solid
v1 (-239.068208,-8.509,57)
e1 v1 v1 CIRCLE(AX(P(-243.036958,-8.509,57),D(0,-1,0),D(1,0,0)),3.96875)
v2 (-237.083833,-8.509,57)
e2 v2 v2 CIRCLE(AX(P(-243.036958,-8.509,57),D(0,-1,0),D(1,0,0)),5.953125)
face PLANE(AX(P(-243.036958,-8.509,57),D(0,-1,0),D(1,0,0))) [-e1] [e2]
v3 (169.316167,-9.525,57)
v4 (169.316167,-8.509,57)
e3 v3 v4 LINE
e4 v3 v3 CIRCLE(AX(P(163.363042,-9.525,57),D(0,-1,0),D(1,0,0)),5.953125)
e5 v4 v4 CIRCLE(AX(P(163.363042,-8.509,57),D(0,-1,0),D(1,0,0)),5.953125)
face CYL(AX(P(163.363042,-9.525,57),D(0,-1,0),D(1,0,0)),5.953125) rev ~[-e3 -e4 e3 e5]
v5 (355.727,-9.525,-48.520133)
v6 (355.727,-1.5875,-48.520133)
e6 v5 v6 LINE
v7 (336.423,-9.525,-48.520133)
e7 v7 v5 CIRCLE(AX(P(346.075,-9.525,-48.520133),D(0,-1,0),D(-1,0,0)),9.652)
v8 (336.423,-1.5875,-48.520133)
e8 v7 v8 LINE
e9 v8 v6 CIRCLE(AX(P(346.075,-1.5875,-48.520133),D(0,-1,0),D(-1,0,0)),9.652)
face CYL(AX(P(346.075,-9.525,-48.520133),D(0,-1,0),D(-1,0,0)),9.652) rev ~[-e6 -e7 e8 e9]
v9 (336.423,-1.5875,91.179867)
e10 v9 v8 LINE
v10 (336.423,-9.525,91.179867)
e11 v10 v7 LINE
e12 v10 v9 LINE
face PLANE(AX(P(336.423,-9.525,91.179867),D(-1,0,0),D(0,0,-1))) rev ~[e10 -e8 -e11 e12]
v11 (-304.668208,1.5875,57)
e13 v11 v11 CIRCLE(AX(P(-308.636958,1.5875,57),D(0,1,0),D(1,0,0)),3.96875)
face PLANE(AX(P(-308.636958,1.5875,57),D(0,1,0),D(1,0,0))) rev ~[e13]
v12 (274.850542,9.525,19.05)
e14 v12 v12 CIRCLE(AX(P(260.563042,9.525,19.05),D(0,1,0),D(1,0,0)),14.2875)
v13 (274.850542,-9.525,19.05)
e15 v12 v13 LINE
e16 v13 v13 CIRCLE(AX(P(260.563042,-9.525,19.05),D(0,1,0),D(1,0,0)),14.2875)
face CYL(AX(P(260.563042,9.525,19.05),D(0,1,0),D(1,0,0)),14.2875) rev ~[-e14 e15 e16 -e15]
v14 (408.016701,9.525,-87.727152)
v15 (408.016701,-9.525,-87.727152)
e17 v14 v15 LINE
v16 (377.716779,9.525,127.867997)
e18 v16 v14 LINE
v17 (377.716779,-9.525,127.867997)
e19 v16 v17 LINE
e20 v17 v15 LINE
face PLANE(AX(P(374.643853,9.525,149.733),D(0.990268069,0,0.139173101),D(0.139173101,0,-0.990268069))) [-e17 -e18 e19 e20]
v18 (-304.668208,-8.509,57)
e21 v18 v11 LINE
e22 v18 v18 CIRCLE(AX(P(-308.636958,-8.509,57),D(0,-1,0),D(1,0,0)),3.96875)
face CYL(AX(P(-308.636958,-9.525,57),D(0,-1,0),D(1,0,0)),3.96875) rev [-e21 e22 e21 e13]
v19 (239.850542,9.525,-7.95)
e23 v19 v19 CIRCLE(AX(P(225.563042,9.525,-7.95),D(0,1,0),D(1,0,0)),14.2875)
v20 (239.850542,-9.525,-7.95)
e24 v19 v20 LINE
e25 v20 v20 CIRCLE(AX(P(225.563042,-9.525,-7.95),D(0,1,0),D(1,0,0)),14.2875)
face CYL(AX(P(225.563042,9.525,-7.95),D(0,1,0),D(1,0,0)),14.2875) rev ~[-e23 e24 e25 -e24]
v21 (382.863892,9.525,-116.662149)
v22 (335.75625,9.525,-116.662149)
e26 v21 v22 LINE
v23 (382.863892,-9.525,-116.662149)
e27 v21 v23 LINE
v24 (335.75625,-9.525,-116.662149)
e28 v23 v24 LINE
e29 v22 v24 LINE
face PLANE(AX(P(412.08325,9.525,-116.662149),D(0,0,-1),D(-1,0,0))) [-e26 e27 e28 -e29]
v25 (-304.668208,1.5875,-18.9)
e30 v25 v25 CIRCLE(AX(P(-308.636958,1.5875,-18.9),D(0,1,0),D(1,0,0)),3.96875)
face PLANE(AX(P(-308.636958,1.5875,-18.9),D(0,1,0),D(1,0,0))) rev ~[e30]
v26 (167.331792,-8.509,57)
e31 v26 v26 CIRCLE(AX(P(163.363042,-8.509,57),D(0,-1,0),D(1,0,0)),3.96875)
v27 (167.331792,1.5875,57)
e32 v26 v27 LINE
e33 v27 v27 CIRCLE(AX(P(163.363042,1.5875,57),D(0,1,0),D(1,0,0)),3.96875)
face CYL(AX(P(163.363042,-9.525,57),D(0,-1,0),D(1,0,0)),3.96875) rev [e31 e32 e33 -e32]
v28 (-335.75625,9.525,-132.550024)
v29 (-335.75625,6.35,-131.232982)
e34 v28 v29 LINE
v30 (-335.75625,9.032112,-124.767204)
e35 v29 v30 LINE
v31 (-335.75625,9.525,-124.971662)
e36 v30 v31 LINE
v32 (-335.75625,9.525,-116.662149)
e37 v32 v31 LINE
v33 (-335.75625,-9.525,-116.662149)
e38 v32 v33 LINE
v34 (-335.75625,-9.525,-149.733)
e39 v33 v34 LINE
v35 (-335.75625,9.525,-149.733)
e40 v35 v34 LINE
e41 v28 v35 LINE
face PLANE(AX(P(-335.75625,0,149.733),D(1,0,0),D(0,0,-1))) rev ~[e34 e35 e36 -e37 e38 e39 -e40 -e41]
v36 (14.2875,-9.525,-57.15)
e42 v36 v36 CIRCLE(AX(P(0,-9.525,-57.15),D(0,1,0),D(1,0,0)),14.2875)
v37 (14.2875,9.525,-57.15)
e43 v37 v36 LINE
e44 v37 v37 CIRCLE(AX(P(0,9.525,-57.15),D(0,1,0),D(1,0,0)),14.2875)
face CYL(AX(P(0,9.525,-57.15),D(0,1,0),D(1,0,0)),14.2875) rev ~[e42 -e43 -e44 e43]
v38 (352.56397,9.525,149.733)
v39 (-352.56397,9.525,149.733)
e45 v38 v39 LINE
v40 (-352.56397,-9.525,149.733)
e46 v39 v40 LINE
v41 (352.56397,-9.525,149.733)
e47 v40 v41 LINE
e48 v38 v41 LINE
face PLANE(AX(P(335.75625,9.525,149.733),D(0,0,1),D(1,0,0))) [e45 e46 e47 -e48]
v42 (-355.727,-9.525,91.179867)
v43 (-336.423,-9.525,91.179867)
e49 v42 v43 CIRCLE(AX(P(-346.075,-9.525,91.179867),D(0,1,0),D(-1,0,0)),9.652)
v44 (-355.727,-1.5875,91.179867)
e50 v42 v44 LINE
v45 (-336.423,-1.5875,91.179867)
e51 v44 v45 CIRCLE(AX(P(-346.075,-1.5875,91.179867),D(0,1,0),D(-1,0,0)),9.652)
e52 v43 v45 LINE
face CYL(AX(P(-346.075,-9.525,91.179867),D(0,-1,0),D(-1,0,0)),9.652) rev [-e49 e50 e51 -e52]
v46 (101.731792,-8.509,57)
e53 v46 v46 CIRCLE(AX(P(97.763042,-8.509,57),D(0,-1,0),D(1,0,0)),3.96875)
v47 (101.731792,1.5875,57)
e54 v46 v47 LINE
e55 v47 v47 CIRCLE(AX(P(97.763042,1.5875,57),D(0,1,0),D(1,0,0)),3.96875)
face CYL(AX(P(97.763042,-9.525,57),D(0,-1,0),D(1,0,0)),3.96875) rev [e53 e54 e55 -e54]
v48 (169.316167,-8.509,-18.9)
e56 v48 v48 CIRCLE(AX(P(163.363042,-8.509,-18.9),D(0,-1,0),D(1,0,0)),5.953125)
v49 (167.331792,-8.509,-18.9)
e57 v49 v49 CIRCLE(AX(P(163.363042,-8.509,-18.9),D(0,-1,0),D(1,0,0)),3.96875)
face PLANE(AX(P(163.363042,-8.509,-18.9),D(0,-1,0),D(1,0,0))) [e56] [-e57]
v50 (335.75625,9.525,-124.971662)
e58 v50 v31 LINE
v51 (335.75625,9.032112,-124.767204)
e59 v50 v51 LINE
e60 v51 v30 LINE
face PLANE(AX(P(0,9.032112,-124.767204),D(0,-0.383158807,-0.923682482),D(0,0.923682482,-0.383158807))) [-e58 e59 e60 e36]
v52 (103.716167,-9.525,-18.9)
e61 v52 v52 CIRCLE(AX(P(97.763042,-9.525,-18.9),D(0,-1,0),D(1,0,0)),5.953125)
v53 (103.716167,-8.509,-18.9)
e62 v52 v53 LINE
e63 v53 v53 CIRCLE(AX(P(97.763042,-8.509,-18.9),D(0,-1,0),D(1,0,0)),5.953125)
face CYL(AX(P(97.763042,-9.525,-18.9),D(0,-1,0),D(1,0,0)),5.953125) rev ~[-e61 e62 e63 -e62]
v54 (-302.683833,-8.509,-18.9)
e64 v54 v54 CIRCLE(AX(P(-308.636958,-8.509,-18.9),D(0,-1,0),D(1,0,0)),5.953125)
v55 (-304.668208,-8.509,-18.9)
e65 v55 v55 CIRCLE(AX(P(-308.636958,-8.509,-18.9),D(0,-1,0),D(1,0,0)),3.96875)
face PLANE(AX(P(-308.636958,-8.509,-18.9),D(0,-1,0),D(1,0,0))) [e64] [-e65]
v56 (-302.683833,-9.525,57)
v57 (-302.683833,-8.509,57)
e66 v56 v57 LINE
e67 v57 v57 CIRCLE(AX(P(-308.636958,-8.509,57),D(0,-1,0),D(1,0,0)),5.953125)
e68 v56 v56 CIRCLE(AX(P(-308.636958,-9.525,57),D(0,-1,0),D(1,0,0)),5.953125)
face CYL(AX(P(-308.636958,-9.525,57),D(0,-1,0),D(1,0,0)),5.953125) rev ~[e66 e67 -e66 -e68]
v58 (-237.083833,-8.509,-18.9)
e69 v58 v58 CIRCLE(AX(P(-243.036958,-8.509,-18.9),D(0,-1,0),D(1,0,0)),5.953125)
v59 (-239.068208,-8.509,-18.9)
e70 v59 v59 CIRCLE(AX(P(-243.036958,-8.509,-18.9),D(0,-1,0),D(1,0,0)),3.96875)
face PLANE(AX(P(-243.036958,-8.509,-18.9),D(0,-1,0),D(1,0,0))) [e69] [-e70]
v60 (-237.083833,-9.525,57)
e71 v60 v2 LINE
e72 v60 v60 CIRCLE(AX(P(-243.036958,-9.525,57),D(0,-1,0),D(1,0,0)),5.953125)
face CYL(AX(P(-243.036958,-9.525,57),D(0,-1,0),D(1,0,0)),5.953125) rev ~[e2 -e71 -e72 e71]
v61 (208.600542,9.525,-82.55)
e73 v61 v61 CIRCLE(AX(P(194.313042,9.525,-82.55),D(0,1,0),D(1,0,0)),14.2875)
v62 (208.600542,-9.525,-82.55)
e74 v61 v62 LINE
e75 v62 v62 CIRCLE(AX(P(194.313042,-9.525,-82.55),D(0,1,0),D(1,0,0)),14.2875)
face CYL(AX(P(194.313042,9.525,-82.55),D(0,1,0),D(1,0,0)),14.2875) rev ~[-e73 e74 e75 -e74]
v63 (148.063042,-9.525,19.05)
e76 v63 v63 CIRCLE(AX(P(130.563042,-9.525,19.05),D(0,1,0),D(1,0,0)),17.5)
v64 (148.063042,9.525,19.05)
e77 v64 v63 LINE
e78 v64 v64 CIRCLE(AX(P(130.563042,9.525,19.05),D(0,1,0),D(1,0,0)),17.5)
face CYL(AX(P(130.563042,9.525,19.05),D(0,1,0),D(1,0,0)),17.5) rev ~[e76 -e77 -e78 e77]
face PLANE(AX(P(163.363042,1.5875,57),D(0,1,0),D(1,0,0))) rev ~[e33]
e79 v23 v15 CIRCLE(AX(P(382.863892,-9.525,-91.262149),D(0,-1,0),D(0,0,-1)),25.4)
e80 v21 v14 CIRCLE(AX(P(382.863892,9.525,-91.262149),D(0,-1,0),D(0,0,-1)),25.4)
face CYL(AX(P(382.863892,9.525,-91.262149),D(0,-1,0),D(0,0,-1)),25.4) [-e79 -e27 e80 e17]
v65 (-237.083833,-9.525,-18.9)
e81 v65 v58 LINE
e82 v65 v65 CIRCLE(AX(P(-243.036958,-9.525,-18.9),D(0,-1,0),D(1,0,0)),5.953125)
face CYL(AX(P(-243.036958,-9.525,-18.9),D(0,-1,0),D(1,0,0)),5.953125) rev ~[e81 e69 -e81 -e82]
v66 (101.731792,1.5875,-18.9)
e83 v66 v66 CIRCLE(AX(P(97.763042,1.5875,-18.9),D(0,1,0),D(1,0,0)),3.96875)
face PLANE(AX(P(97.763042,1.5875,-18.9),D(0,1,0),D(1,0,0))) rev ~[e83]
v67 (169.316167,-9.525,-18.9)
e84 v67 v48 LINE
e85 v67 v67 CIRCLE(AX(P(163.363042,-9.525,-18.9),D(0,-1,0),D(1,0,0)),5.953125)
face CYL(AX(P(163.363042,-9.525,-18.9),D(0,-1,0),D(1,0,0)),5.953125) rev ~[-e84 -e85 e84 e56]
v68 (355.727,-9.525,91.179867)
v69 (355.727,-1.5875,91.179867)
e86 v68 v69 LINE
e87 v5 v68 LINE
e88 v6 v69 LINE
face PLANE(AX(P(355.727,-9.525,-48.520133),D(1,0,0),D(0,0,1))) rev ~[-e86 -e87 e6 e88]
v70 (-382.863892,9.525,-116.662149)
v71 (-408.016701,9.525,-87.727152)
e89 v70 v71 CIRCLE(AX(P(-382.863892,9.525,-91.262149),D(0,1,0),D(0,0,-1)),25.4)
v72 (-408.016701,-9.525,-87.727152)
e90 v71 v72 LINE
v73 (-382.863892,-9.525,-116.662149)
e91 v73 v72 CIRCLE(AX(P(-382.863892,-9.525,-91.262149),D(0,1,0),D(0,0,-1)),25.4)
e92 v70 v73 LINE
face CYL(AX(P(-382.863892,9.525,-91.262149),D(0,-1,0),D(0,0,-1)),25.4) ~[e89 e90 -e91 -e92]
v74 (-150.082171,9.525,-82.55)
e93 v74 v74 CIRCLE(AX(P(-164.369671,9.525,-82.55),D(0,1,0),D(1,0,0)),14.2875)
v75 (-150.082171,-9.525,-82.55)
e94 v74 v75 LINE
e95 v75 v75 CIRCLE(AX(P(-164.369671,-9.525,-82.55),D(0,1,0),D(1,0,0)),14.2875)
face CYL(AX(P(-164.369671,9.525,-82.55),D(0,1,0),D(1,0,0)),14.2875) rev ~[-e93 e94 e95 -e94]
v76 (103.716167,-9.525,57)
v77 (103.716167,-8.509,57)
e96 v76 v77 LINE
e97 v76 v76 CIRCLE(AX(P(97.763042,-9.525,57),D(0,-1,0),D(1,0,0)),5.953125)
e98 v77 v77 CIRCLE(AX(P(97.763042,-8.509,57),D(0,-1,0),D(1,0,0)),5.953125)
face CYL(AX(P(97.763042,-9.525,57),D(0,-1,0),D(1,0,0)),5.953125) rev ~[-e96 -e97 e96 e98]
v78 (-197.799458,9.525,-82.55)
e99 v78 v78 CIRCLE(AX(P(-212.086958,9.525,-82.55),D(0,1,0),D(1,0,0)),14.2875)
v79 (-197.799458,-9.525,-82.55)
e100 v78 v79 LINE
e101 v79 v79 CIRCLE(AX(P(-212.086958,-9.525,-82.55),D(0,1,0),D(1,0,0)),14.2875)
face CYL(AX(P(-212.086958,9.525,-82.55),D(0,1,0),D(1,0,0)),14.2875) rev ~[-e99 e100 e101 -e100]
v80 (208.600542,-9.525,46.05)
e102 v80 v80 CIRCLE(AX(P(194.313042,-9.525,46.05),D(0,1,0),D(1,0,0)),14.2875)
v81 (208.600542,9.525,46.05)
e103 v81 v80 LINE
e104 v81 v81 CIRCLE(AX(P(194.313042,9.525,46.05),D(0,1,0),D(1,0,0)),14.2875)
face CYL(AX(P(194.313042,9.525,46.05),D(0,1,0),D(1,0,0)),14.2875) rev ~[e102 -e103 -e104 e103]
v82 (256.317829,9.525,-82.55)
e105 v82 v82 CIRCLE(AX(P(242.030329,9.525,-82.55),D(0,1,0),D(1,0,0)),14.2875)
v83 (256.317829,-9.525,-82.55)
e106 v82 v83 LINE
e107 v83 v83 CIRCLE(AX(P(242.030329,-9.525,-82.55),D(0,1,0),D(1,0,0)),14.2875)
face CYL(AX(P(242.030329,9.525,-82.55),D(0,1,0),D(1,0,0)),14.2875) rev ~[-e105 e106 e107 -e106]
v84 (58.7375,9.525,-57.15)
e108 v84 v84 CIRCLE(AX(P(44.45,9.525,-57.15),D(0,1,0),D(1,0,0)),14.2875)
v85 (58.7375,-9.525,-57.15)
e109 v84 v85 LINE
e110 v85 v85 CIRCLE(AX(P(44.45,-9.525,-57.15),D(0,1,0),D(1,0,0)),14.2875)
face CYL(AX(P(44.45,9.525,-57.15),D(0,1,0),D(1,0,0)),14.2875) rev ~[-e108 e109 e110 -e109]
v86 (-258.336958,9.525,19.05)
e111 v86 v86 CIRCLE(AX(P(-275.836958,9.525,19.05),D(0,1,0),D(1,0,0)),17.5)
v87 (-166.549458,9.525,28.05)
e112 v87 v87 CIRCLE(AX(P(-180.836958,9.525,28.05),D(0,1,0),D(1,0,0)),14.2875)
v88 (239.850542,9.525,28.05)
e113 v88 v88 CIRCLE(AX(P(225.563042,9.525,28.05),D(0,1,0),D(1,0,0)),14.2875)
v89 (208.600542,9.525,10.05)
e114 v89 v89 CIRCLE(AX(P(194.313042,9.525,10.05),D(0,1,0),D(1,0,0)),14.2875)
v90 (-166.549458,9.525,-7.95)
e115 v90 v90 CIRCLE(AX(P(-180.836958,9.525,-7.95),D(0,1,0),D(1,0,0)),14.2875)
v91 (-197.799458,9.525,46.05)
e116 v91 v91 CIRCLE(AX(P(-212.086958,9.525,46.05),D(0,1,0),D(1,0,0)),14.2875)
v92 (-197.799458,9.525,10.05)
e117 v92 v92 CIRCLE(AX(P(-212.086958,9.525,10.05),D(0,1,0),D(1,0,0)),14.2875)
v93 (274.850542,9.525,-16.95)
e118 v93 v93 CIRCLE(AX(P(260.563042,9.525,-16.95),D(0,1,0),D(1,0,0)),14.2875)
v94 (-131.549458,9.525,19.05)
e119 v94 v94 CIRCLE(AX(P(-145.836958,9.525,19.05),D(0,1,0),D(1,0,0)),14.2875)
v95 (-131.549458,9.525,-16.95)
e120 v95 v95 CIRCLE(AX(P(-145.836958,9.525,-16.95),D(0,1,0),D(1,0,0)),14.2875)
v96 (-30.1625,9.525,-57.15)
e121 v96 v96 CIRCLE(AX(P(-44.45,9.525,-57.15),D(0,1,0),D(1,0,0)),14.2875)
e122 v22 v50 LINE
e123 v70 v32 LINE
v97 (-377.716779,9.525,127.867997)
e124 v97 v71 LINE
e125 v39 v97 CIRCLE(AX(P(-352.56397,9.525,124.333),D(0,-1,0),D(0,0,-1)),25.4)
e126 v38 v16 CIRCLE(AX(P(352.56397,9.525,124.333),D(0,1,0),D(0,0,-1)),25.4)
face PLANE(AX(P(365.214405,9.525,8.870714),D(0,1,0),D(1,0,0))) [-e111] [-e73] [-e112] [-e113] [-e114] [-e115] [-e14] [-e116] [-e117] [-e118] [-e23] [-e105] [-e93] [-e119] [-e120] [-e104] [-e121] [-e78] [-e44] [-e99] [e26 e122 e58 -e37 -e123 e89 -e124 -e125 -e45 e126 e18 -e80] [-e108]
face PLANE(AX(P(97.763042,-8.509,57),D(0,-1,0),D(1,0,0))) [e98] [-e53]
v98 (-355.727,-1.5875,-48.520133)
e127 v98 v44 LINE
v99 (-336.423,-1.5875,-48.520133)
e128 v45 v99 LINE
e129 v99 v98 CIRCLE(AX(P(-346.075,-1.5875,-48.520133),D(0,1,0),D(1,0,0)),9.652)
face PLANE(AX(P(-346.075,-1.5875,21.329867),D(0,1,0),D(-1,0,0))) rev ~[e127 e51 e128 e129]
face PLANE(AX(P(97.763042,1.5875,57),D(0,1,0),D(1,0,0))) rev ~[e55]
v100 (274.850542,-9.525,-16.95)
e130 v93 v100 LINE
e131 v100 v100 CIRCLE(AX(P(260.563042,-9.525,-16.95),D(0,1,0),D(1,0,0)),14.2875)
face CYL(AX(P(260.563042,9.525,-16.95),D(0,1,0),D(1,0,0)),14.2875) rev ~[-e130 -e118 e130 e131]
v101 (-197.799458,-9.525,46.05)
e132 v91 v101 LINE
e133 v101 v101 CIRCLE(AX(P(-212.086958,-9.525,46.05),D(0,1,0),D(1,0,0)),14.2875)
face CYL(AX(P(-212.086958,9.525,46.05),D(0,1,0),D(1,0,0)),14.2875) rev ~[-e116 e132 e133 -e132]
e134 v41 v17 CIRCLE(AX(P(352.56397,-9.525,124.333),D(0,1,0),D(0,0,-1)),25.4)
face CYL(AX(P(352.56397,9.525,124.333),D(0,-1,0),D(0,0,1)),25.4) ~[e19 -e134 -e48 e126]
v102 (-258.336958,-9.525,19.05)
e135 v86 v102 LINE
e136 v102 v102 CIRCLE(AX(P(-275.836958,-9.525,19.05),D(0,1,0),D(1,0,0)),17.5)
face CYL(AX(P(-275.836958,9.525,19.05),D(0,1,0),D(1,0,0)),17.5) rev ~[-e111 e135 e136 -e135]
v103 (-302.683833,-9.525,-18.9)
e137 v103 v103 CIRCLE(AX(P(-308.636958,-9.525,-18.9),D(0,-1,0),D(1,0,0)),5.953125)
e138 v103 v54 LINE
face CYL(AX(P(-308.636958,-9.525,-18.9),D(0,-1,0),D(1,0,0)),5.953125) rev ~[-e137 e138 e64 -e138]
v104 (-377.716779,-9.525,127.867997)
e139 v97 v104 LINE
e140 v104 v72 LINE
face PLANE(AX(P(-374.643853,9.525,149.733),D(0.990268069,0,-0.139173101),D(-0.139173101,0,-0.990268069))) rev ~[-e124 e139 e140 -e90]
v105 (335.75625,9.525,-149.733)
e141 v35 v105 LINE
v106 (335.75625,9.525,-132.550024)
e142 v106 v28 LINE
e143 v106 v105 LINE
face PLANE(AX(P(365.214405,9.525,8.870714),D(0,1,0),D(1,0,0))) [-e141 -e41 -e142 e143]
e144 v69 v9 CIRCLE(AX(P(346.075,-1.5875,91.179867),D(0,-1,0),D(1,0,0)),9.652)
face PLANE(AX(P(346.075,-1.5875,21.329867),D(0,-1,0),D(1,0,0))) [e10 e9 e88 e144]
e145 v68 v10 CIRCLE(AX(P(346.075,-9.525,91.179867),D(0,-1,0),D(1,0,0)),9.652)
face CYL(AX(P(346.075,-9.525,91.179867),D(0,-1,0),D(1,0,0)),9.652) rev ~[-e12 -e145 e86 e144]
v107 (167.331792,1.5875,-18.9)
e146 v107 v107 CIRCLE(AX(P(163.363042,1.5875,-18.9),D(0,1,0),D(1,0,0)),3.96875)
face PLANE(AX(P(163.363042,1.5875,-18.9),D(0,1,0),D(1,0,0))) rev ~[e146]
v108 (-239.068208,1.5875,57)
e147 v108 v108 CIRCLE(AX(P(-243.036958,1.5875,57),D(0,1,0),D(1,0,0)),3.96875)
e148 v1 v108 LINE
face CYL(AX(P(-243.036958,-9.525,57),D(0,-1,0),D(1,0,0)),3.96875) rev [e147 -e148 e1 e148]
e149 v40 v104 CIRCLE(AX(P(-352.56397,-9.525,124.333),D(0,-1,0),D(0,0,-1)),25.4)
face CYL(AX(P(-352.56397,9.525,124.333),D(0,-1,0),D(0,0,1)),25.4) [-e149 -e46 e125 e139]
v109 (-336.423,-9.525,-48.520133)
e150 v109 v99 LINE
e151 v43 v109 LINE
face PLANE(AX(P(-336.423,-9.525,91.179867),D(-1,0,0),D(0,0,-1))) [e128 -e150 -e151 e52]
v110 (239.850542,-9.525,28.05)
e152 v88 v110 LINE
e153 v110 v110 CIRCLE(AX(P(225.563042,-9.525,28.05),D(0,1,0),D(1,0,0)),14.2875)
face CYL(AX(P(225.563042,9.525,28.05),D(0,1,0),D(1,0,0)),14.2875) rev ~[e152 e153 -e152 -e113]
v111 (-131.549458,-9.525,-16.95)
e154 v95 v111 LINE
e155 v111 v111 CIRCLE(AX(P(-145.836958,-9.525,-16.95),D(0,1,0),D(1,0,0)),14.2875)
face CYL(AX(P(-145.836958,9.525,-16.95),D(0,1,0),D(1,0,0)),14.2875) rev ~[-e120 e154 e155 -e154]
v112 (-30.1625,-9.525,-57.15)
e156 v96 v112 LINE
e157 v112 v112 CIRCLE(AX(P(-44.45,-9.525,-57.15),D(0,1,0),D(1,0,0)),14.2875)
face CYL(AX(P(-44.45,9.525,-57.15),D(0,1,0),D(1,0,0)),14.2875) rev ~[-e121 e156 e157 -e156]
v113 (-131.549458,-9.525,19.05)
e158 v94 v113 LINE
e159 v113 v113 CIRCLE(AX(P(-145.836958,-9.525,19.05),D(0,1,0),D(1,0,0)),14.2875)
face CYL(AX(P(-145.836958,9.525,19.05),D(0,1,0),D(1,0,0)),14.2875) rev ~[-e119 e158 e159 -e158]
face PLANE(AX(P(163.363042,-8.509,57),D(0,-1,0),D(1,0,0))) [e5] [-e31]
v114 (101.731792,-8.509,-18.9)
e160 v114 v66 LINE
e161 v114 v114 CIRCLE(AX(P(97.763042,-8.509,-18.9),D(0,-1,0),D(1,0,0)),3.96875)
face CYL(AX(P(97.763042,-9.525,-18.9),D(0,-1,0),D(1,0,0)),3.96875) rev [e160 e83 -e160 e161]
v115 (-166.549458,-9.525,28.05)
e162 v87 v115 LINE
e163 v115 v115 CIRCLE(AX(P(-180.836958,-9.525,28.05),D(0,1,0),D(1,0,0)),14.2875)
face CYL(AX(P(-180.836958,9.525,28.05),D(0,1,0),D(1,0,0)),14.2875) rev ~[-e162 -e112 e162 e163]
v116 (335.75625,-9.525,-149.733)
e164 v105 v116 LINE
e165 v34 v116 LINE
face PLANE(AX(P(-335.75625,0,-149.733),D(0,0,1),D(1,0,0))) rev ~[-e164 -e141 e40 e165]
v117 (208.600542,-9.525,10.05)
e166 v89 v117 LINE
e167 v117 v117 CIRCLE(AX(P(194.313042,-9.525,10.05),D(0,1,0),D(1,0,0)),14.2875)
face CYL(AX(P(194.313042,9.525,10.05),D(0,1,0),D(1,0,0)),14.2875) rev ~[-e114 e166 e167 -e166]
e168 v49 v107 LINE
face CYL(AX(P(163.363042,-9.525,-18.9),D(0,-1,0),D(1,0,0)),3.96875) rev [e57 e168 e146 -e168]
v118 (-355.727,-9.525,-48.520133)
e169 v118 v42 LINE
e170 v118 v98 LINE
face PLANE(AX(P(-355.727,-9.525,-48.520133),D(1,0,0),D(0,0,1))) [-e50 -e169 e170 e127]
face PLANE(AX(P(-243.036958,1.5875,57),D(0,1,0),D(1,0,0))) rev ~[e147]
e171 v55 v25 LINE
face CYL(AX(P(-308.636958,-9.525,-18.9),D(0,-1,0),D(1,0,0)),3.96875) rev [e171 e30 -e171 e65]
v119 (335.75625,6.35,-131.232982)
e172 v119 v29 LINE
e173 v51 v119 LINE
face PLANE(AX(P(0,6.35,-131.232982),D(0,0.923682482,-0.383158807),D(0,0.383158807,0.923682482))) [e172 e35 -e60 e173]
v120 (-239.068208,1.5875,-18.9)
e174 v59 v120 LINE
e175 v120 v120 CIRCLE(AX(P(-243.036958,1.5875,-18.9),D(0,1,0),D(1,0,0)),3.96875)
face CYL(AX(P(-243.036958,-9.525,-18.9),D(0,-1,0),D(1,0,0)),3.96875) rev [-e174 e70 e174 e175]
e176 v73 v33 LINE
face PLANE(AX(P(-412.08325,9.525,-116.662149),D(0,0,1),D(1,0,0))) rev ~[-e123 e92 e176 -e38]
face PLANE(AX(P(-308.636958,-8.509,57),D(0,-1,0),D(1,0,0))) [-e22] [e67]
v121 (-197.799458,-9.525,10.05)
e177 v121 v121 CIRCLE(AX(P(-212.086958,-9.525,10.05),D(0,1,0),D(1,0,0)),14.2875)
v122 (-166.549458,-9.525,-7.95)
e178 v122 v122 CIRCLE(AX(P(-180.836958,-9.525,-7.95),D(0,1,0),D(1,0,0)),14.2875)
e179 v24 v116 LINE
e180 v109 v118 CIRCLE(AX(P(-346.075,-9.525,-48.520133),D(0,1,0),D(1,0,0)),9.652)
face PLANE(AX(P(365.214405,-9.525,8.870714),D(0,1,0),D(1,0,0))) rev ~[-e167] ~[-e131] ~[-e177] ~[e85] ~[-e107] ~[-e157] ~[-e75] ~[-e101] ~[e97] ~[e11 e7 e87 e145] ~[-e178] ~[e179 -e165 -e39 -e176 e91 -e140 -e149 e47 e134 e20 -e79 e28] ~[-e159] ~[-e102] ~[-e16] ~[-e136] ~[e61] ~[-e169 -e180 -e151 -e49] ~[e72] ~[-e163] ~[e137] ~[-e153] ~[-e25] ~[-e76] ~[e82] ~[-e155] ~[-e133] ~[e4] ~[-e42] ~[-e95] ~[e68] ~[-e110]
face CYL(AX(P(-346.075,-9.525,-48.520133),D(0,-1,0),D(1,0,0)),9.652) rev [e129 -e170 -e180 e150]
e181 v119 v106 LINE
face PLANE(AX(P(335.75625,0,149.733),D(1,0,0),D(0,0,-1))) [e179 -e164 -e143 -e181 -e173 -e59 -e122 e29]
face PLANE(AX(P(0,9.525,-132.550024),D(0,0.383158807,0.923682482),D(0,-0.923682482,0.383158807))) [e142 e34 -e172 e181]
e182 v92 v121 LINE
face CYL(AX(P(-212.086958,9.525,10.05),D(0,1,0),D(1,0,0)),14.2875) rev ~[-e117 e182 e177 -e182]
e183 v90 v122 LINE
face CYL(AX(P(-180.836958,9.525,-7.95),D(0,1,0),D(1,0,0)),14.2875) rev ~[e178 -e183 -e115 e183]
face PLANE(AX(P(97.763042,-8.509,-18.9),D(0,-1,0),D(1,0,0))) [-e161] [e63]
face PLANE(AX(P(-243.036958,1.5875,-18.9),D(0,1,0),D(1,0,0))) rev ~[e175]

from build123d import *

# Parameters (mm, degrees)
SKETCH1_W               = 671.5125
SKETCH1_H               = 299.466
BOSS_EXTRUDE1_DEPTH     = 9.525
BOSS_EXTRUDE2_DEPTH     = 19.05
FILLET1_R               = 25.4
SKETCH3_R               = 17.5
SKETCH3_R_2             = 14.2875
CUT_EXTRUDE1_DEPTH      = 1
CUT_EXTRUDE1_DEPTH_BACK = 20.05
CUT_EXTRUDE2_DEPTH      = 7.9375
CUT_EXTRUDE3_DEPTH      = 409.263892457
CUT_EXTRUDE3_DEPTH_BACK = 409.263892457
CUT_EXTRUDE5_START      = -19.05
SKETCH3_3_R             = 3.96875
CUT_EXTRUDE5_DEPTH      = 11.1125
SKETCH8_R               = 5.953125
CUT_EXTRUDE6_DEPTH      = 1.016


with BuildPart() as part:
    # Sketch1 → Boss-Extrude1 (new body, symmetric)
    with BuildSketch(Plane(origin=(0, 0, 0), x_dir=(1, 0, 0), z_dir=(0, 1, 0))):
        Rectangle(SKETCH1_W, SKETCH1_H)
    extrude(amount=BOSS_EXTRUDE1_DEPTH, both=True)

    # Sketch2 → Boss-Extrude2 (add)
    with BuildSketch(Plane(origin=(0, 9.525, 0), x_dir=(1, 0, 0), z_dir=(0, 1, 0))):
        Polygon((335.75625, -149.733), (374.643853371, -149.733), (412.08325, 116.6621492), (335.75625, 116.6621492), align=None)
        Polygon((-335.75625, 116.6621492), (-335.75625, -149.733), (-374.643853371, -149.733), (-412.08325, 116.6621492), align=None)
    extrude(amount=-BOSS_EXTRUDE2_DEPTH)

    # Fillet1
    fillet1_edges = [part.edges().sort_by_distance(p)[0] for p in [
        (374.643853371, 0, 149.733),
        (412.08325, 0, -116.6621492),
        (-412.08325, 0, -116.6621492),
        (-374.643853371, 0, 149.733),
    ]]
    fillet(fillet1_edges, radius=FILLET1_R)

    # Sketch3 → Cut-Extrude1 (cut, two sides)
    with BuildSketch(Plane(origin=(0, 9.525, 0), x_dir=(1, 0, 0), z_dir=(0, 1, 0))) as cut_extrude1_sk:
        with Locations((-275.836957508, -19.05)):
            Circle(SKETCH3_R)
        with Locations((-180.836957508, 7.95)):
            Circle(SKETCH3_R_2)
        with Locations((-145.836957508, 16.95)):
            Circle(SKETCH3_R_2)
        with Locations((-145.836957508, -19.05)):
            Circle(SKETCH3_R_2)
        with Locations((-180.836957508, -28.05)):
            Circle(SKETCH3_R_2)
        with Locations((-212.086957508, -10.05)):
            Circle(SKETCH3_R_2)
        with Locations((-212.086957508, -46.05)):
            Circle(SKETCH3_R_2)
        with Locations((-212.086957508, 82.55)):
            Circle(SKETCH3_R_2)
        with Locations((-164.36967051, 82.55)):
            Circle(SKETCH3_R_2)
        with Locations((130.563042492, -19.05)):
            Circle(SKETCH3_R)
        with Locations((225.563042492, 7.95)):
            Circle(SKETCH3_R_2)
        with Locations((260.563042492, 16.95)):
            Circle(SKETCH3_R_2)
        with Locations((260.563042492, -19.05)):
            Circle(SKETCH3_R_2)
        with Locations((225.563042492, -28.05)):
            Circle(SKETCH3_R_2)
        with Locations((194.313042492, -10.05)):
            Circle(SKETCH3_R_2)
        with Locations((194.313042492, -46.05)):
            Circle(SKETCH3_R_2)
        with Locations((194.313042492, 82.55)):
            Circle(SKETCH3_R_2)
        with Locations((242.03032949, 82.55)):
            Circle(SKETCH3_R_2)
        with Locations((-44.45, 57.15)):
            Circle(SKETCH3_R_2)
        with Locations((0, 57.15)):
            Circle(SKETCH3_R_2)
        with Locations((44.45, 57.15)):
            Circle(SKETCH3_R_2)
    extrude(amount=CUT_EXTRUDE1_DEPTH, mode=Mode.SUBTRACT)
    extrude(cut_extrude1_sk.sketch, amount=-CUT_EXTRUDE1_DEPTH_BACK, mode=Mode.SUBTRACT)

    # Sketch4 → Cut-Extrude2 (cut)
    with BuildSketch(Plane.XZ.offset(9.525)):
        with BuildLine():
            Line((-355.727, -48.520132908), (-355.727, 91.179867092))
            ThreePointArc((-355.727, 91.179867092), (-346.075, 100.831867092), (-336.423, 91.179867092))
            Line((-336.423, 91.179867092), (-336.423, -48.520132908))
            ThreePointArc((-336.423, -48.520132908), (-346.075, -58.172132908), (-355.727, -48.520132908))
        make_face()
        with BuildLine():
            Line((355.727, -48.520132908), (355.727, 91.179867092))
            ThreePointArc((355.727, 91.179867092), (346.075, 100.831867092), (336.423, 91.179867092))
            Line((336.423, 91.179867092), (336.423, -48.520132908))
            ThreePointArc((336.423, -48.520132908), (346.075, -58.172132908), (355.727, -48.520132908))
        make_face()
    extrude(amount=-CUT_EXTRUDE2_DEPTH, mode=Mode.SUBTRACT)

    # Sketch5 → Cut-Extrude3 (cut, two sides)
    with BuildSketch(Plane(origin=(0, 0, 0), x_dir=(0, 0, -1), z_dir=(1, 0, 0))) as cut_extrude3_sk:
        Polygon((132.550024206, 9.525), (131.232981568, 6.35), (124.767204191, 9.032111651), (126.084246829, 12.207111651), align=None)
    extrude(amount=CUT_EXTRUDE3_DEPTH, mode=Mode.SUBTRACT)
    extrude(cut_extrude3_sk.sketch, amount=-CUT_EXTRUDE3_DEPTH_BACK, mode=Mode.SUBTRACT)

    # Sketch3<3> → Cut-Extrude5 (cut)
    with BuildSketch(Plane(origin=(0, 9.525, 0), x_dir=(1, 0, 0), z_dir=(0, 1, 0)).offset(CUT_EXTRUDE5_START)):
        with Locations((-308.636957508, 18.9)):
            Circle(SKETCH3_3_R)
        with Locations((-243.036957508, 18.9)):
            Circle(SKETCH3_3_R)
        with Locations((-308.636957508, -57)):
            Circle(SKETCH3_3_R)
        with Locations((-243.036957508, -57)):
            Circle(SKETCH3_3_R)
        with Locations((97.763042492, 18.9)):
            Circle(SKETCH3_3_R)
        with Locations((163.363042492, 18.9)):
            Circle(SKETCH3_3_R)
        with Locations((97.763042492, -57)):
            Circle(SKETCH3_3_R)
        with Locations((163.363042492, -57)):
            Circle(SKETCH3_3_R)
    extrude(amount=CUT_EXTRUDE5_DEPTH, mode=Mode.SUBTRACT)

    # Sketch8 → Cut-Extrude6 (cut)
    with BuildSketch(Plane.XZ.offset(9.525)):
        with Locations((163.363042492, -18.9)):
            Circle(SKETCH8_R)
        with Locations((163.363042492, 57)):
            Circle(SKETCH8_R)
        with Locations((97.763042492, 57)):
            Circle(SKETCH8_R)
        with Locations((97.763042492, -18.9)):
            Circle(SKETCH8_R)
        with Locations((-243.036957508, -18.9)):
            Circle(SKETCH8_R)
        with Locations((-243.036957508, 57)):
            Circle(SKETCH8_R)
        with Locations((-308.636957508, 57)):
            Circle(SKETCH8_R)
        with Locations((-308.636957508, -18.9)):
            Circle(SKETCH8_R)
    extrude(amount=-CUT_EXTRUDE6_DEPTH, mode=Mode.SUBTRACT)


solid = part.part
